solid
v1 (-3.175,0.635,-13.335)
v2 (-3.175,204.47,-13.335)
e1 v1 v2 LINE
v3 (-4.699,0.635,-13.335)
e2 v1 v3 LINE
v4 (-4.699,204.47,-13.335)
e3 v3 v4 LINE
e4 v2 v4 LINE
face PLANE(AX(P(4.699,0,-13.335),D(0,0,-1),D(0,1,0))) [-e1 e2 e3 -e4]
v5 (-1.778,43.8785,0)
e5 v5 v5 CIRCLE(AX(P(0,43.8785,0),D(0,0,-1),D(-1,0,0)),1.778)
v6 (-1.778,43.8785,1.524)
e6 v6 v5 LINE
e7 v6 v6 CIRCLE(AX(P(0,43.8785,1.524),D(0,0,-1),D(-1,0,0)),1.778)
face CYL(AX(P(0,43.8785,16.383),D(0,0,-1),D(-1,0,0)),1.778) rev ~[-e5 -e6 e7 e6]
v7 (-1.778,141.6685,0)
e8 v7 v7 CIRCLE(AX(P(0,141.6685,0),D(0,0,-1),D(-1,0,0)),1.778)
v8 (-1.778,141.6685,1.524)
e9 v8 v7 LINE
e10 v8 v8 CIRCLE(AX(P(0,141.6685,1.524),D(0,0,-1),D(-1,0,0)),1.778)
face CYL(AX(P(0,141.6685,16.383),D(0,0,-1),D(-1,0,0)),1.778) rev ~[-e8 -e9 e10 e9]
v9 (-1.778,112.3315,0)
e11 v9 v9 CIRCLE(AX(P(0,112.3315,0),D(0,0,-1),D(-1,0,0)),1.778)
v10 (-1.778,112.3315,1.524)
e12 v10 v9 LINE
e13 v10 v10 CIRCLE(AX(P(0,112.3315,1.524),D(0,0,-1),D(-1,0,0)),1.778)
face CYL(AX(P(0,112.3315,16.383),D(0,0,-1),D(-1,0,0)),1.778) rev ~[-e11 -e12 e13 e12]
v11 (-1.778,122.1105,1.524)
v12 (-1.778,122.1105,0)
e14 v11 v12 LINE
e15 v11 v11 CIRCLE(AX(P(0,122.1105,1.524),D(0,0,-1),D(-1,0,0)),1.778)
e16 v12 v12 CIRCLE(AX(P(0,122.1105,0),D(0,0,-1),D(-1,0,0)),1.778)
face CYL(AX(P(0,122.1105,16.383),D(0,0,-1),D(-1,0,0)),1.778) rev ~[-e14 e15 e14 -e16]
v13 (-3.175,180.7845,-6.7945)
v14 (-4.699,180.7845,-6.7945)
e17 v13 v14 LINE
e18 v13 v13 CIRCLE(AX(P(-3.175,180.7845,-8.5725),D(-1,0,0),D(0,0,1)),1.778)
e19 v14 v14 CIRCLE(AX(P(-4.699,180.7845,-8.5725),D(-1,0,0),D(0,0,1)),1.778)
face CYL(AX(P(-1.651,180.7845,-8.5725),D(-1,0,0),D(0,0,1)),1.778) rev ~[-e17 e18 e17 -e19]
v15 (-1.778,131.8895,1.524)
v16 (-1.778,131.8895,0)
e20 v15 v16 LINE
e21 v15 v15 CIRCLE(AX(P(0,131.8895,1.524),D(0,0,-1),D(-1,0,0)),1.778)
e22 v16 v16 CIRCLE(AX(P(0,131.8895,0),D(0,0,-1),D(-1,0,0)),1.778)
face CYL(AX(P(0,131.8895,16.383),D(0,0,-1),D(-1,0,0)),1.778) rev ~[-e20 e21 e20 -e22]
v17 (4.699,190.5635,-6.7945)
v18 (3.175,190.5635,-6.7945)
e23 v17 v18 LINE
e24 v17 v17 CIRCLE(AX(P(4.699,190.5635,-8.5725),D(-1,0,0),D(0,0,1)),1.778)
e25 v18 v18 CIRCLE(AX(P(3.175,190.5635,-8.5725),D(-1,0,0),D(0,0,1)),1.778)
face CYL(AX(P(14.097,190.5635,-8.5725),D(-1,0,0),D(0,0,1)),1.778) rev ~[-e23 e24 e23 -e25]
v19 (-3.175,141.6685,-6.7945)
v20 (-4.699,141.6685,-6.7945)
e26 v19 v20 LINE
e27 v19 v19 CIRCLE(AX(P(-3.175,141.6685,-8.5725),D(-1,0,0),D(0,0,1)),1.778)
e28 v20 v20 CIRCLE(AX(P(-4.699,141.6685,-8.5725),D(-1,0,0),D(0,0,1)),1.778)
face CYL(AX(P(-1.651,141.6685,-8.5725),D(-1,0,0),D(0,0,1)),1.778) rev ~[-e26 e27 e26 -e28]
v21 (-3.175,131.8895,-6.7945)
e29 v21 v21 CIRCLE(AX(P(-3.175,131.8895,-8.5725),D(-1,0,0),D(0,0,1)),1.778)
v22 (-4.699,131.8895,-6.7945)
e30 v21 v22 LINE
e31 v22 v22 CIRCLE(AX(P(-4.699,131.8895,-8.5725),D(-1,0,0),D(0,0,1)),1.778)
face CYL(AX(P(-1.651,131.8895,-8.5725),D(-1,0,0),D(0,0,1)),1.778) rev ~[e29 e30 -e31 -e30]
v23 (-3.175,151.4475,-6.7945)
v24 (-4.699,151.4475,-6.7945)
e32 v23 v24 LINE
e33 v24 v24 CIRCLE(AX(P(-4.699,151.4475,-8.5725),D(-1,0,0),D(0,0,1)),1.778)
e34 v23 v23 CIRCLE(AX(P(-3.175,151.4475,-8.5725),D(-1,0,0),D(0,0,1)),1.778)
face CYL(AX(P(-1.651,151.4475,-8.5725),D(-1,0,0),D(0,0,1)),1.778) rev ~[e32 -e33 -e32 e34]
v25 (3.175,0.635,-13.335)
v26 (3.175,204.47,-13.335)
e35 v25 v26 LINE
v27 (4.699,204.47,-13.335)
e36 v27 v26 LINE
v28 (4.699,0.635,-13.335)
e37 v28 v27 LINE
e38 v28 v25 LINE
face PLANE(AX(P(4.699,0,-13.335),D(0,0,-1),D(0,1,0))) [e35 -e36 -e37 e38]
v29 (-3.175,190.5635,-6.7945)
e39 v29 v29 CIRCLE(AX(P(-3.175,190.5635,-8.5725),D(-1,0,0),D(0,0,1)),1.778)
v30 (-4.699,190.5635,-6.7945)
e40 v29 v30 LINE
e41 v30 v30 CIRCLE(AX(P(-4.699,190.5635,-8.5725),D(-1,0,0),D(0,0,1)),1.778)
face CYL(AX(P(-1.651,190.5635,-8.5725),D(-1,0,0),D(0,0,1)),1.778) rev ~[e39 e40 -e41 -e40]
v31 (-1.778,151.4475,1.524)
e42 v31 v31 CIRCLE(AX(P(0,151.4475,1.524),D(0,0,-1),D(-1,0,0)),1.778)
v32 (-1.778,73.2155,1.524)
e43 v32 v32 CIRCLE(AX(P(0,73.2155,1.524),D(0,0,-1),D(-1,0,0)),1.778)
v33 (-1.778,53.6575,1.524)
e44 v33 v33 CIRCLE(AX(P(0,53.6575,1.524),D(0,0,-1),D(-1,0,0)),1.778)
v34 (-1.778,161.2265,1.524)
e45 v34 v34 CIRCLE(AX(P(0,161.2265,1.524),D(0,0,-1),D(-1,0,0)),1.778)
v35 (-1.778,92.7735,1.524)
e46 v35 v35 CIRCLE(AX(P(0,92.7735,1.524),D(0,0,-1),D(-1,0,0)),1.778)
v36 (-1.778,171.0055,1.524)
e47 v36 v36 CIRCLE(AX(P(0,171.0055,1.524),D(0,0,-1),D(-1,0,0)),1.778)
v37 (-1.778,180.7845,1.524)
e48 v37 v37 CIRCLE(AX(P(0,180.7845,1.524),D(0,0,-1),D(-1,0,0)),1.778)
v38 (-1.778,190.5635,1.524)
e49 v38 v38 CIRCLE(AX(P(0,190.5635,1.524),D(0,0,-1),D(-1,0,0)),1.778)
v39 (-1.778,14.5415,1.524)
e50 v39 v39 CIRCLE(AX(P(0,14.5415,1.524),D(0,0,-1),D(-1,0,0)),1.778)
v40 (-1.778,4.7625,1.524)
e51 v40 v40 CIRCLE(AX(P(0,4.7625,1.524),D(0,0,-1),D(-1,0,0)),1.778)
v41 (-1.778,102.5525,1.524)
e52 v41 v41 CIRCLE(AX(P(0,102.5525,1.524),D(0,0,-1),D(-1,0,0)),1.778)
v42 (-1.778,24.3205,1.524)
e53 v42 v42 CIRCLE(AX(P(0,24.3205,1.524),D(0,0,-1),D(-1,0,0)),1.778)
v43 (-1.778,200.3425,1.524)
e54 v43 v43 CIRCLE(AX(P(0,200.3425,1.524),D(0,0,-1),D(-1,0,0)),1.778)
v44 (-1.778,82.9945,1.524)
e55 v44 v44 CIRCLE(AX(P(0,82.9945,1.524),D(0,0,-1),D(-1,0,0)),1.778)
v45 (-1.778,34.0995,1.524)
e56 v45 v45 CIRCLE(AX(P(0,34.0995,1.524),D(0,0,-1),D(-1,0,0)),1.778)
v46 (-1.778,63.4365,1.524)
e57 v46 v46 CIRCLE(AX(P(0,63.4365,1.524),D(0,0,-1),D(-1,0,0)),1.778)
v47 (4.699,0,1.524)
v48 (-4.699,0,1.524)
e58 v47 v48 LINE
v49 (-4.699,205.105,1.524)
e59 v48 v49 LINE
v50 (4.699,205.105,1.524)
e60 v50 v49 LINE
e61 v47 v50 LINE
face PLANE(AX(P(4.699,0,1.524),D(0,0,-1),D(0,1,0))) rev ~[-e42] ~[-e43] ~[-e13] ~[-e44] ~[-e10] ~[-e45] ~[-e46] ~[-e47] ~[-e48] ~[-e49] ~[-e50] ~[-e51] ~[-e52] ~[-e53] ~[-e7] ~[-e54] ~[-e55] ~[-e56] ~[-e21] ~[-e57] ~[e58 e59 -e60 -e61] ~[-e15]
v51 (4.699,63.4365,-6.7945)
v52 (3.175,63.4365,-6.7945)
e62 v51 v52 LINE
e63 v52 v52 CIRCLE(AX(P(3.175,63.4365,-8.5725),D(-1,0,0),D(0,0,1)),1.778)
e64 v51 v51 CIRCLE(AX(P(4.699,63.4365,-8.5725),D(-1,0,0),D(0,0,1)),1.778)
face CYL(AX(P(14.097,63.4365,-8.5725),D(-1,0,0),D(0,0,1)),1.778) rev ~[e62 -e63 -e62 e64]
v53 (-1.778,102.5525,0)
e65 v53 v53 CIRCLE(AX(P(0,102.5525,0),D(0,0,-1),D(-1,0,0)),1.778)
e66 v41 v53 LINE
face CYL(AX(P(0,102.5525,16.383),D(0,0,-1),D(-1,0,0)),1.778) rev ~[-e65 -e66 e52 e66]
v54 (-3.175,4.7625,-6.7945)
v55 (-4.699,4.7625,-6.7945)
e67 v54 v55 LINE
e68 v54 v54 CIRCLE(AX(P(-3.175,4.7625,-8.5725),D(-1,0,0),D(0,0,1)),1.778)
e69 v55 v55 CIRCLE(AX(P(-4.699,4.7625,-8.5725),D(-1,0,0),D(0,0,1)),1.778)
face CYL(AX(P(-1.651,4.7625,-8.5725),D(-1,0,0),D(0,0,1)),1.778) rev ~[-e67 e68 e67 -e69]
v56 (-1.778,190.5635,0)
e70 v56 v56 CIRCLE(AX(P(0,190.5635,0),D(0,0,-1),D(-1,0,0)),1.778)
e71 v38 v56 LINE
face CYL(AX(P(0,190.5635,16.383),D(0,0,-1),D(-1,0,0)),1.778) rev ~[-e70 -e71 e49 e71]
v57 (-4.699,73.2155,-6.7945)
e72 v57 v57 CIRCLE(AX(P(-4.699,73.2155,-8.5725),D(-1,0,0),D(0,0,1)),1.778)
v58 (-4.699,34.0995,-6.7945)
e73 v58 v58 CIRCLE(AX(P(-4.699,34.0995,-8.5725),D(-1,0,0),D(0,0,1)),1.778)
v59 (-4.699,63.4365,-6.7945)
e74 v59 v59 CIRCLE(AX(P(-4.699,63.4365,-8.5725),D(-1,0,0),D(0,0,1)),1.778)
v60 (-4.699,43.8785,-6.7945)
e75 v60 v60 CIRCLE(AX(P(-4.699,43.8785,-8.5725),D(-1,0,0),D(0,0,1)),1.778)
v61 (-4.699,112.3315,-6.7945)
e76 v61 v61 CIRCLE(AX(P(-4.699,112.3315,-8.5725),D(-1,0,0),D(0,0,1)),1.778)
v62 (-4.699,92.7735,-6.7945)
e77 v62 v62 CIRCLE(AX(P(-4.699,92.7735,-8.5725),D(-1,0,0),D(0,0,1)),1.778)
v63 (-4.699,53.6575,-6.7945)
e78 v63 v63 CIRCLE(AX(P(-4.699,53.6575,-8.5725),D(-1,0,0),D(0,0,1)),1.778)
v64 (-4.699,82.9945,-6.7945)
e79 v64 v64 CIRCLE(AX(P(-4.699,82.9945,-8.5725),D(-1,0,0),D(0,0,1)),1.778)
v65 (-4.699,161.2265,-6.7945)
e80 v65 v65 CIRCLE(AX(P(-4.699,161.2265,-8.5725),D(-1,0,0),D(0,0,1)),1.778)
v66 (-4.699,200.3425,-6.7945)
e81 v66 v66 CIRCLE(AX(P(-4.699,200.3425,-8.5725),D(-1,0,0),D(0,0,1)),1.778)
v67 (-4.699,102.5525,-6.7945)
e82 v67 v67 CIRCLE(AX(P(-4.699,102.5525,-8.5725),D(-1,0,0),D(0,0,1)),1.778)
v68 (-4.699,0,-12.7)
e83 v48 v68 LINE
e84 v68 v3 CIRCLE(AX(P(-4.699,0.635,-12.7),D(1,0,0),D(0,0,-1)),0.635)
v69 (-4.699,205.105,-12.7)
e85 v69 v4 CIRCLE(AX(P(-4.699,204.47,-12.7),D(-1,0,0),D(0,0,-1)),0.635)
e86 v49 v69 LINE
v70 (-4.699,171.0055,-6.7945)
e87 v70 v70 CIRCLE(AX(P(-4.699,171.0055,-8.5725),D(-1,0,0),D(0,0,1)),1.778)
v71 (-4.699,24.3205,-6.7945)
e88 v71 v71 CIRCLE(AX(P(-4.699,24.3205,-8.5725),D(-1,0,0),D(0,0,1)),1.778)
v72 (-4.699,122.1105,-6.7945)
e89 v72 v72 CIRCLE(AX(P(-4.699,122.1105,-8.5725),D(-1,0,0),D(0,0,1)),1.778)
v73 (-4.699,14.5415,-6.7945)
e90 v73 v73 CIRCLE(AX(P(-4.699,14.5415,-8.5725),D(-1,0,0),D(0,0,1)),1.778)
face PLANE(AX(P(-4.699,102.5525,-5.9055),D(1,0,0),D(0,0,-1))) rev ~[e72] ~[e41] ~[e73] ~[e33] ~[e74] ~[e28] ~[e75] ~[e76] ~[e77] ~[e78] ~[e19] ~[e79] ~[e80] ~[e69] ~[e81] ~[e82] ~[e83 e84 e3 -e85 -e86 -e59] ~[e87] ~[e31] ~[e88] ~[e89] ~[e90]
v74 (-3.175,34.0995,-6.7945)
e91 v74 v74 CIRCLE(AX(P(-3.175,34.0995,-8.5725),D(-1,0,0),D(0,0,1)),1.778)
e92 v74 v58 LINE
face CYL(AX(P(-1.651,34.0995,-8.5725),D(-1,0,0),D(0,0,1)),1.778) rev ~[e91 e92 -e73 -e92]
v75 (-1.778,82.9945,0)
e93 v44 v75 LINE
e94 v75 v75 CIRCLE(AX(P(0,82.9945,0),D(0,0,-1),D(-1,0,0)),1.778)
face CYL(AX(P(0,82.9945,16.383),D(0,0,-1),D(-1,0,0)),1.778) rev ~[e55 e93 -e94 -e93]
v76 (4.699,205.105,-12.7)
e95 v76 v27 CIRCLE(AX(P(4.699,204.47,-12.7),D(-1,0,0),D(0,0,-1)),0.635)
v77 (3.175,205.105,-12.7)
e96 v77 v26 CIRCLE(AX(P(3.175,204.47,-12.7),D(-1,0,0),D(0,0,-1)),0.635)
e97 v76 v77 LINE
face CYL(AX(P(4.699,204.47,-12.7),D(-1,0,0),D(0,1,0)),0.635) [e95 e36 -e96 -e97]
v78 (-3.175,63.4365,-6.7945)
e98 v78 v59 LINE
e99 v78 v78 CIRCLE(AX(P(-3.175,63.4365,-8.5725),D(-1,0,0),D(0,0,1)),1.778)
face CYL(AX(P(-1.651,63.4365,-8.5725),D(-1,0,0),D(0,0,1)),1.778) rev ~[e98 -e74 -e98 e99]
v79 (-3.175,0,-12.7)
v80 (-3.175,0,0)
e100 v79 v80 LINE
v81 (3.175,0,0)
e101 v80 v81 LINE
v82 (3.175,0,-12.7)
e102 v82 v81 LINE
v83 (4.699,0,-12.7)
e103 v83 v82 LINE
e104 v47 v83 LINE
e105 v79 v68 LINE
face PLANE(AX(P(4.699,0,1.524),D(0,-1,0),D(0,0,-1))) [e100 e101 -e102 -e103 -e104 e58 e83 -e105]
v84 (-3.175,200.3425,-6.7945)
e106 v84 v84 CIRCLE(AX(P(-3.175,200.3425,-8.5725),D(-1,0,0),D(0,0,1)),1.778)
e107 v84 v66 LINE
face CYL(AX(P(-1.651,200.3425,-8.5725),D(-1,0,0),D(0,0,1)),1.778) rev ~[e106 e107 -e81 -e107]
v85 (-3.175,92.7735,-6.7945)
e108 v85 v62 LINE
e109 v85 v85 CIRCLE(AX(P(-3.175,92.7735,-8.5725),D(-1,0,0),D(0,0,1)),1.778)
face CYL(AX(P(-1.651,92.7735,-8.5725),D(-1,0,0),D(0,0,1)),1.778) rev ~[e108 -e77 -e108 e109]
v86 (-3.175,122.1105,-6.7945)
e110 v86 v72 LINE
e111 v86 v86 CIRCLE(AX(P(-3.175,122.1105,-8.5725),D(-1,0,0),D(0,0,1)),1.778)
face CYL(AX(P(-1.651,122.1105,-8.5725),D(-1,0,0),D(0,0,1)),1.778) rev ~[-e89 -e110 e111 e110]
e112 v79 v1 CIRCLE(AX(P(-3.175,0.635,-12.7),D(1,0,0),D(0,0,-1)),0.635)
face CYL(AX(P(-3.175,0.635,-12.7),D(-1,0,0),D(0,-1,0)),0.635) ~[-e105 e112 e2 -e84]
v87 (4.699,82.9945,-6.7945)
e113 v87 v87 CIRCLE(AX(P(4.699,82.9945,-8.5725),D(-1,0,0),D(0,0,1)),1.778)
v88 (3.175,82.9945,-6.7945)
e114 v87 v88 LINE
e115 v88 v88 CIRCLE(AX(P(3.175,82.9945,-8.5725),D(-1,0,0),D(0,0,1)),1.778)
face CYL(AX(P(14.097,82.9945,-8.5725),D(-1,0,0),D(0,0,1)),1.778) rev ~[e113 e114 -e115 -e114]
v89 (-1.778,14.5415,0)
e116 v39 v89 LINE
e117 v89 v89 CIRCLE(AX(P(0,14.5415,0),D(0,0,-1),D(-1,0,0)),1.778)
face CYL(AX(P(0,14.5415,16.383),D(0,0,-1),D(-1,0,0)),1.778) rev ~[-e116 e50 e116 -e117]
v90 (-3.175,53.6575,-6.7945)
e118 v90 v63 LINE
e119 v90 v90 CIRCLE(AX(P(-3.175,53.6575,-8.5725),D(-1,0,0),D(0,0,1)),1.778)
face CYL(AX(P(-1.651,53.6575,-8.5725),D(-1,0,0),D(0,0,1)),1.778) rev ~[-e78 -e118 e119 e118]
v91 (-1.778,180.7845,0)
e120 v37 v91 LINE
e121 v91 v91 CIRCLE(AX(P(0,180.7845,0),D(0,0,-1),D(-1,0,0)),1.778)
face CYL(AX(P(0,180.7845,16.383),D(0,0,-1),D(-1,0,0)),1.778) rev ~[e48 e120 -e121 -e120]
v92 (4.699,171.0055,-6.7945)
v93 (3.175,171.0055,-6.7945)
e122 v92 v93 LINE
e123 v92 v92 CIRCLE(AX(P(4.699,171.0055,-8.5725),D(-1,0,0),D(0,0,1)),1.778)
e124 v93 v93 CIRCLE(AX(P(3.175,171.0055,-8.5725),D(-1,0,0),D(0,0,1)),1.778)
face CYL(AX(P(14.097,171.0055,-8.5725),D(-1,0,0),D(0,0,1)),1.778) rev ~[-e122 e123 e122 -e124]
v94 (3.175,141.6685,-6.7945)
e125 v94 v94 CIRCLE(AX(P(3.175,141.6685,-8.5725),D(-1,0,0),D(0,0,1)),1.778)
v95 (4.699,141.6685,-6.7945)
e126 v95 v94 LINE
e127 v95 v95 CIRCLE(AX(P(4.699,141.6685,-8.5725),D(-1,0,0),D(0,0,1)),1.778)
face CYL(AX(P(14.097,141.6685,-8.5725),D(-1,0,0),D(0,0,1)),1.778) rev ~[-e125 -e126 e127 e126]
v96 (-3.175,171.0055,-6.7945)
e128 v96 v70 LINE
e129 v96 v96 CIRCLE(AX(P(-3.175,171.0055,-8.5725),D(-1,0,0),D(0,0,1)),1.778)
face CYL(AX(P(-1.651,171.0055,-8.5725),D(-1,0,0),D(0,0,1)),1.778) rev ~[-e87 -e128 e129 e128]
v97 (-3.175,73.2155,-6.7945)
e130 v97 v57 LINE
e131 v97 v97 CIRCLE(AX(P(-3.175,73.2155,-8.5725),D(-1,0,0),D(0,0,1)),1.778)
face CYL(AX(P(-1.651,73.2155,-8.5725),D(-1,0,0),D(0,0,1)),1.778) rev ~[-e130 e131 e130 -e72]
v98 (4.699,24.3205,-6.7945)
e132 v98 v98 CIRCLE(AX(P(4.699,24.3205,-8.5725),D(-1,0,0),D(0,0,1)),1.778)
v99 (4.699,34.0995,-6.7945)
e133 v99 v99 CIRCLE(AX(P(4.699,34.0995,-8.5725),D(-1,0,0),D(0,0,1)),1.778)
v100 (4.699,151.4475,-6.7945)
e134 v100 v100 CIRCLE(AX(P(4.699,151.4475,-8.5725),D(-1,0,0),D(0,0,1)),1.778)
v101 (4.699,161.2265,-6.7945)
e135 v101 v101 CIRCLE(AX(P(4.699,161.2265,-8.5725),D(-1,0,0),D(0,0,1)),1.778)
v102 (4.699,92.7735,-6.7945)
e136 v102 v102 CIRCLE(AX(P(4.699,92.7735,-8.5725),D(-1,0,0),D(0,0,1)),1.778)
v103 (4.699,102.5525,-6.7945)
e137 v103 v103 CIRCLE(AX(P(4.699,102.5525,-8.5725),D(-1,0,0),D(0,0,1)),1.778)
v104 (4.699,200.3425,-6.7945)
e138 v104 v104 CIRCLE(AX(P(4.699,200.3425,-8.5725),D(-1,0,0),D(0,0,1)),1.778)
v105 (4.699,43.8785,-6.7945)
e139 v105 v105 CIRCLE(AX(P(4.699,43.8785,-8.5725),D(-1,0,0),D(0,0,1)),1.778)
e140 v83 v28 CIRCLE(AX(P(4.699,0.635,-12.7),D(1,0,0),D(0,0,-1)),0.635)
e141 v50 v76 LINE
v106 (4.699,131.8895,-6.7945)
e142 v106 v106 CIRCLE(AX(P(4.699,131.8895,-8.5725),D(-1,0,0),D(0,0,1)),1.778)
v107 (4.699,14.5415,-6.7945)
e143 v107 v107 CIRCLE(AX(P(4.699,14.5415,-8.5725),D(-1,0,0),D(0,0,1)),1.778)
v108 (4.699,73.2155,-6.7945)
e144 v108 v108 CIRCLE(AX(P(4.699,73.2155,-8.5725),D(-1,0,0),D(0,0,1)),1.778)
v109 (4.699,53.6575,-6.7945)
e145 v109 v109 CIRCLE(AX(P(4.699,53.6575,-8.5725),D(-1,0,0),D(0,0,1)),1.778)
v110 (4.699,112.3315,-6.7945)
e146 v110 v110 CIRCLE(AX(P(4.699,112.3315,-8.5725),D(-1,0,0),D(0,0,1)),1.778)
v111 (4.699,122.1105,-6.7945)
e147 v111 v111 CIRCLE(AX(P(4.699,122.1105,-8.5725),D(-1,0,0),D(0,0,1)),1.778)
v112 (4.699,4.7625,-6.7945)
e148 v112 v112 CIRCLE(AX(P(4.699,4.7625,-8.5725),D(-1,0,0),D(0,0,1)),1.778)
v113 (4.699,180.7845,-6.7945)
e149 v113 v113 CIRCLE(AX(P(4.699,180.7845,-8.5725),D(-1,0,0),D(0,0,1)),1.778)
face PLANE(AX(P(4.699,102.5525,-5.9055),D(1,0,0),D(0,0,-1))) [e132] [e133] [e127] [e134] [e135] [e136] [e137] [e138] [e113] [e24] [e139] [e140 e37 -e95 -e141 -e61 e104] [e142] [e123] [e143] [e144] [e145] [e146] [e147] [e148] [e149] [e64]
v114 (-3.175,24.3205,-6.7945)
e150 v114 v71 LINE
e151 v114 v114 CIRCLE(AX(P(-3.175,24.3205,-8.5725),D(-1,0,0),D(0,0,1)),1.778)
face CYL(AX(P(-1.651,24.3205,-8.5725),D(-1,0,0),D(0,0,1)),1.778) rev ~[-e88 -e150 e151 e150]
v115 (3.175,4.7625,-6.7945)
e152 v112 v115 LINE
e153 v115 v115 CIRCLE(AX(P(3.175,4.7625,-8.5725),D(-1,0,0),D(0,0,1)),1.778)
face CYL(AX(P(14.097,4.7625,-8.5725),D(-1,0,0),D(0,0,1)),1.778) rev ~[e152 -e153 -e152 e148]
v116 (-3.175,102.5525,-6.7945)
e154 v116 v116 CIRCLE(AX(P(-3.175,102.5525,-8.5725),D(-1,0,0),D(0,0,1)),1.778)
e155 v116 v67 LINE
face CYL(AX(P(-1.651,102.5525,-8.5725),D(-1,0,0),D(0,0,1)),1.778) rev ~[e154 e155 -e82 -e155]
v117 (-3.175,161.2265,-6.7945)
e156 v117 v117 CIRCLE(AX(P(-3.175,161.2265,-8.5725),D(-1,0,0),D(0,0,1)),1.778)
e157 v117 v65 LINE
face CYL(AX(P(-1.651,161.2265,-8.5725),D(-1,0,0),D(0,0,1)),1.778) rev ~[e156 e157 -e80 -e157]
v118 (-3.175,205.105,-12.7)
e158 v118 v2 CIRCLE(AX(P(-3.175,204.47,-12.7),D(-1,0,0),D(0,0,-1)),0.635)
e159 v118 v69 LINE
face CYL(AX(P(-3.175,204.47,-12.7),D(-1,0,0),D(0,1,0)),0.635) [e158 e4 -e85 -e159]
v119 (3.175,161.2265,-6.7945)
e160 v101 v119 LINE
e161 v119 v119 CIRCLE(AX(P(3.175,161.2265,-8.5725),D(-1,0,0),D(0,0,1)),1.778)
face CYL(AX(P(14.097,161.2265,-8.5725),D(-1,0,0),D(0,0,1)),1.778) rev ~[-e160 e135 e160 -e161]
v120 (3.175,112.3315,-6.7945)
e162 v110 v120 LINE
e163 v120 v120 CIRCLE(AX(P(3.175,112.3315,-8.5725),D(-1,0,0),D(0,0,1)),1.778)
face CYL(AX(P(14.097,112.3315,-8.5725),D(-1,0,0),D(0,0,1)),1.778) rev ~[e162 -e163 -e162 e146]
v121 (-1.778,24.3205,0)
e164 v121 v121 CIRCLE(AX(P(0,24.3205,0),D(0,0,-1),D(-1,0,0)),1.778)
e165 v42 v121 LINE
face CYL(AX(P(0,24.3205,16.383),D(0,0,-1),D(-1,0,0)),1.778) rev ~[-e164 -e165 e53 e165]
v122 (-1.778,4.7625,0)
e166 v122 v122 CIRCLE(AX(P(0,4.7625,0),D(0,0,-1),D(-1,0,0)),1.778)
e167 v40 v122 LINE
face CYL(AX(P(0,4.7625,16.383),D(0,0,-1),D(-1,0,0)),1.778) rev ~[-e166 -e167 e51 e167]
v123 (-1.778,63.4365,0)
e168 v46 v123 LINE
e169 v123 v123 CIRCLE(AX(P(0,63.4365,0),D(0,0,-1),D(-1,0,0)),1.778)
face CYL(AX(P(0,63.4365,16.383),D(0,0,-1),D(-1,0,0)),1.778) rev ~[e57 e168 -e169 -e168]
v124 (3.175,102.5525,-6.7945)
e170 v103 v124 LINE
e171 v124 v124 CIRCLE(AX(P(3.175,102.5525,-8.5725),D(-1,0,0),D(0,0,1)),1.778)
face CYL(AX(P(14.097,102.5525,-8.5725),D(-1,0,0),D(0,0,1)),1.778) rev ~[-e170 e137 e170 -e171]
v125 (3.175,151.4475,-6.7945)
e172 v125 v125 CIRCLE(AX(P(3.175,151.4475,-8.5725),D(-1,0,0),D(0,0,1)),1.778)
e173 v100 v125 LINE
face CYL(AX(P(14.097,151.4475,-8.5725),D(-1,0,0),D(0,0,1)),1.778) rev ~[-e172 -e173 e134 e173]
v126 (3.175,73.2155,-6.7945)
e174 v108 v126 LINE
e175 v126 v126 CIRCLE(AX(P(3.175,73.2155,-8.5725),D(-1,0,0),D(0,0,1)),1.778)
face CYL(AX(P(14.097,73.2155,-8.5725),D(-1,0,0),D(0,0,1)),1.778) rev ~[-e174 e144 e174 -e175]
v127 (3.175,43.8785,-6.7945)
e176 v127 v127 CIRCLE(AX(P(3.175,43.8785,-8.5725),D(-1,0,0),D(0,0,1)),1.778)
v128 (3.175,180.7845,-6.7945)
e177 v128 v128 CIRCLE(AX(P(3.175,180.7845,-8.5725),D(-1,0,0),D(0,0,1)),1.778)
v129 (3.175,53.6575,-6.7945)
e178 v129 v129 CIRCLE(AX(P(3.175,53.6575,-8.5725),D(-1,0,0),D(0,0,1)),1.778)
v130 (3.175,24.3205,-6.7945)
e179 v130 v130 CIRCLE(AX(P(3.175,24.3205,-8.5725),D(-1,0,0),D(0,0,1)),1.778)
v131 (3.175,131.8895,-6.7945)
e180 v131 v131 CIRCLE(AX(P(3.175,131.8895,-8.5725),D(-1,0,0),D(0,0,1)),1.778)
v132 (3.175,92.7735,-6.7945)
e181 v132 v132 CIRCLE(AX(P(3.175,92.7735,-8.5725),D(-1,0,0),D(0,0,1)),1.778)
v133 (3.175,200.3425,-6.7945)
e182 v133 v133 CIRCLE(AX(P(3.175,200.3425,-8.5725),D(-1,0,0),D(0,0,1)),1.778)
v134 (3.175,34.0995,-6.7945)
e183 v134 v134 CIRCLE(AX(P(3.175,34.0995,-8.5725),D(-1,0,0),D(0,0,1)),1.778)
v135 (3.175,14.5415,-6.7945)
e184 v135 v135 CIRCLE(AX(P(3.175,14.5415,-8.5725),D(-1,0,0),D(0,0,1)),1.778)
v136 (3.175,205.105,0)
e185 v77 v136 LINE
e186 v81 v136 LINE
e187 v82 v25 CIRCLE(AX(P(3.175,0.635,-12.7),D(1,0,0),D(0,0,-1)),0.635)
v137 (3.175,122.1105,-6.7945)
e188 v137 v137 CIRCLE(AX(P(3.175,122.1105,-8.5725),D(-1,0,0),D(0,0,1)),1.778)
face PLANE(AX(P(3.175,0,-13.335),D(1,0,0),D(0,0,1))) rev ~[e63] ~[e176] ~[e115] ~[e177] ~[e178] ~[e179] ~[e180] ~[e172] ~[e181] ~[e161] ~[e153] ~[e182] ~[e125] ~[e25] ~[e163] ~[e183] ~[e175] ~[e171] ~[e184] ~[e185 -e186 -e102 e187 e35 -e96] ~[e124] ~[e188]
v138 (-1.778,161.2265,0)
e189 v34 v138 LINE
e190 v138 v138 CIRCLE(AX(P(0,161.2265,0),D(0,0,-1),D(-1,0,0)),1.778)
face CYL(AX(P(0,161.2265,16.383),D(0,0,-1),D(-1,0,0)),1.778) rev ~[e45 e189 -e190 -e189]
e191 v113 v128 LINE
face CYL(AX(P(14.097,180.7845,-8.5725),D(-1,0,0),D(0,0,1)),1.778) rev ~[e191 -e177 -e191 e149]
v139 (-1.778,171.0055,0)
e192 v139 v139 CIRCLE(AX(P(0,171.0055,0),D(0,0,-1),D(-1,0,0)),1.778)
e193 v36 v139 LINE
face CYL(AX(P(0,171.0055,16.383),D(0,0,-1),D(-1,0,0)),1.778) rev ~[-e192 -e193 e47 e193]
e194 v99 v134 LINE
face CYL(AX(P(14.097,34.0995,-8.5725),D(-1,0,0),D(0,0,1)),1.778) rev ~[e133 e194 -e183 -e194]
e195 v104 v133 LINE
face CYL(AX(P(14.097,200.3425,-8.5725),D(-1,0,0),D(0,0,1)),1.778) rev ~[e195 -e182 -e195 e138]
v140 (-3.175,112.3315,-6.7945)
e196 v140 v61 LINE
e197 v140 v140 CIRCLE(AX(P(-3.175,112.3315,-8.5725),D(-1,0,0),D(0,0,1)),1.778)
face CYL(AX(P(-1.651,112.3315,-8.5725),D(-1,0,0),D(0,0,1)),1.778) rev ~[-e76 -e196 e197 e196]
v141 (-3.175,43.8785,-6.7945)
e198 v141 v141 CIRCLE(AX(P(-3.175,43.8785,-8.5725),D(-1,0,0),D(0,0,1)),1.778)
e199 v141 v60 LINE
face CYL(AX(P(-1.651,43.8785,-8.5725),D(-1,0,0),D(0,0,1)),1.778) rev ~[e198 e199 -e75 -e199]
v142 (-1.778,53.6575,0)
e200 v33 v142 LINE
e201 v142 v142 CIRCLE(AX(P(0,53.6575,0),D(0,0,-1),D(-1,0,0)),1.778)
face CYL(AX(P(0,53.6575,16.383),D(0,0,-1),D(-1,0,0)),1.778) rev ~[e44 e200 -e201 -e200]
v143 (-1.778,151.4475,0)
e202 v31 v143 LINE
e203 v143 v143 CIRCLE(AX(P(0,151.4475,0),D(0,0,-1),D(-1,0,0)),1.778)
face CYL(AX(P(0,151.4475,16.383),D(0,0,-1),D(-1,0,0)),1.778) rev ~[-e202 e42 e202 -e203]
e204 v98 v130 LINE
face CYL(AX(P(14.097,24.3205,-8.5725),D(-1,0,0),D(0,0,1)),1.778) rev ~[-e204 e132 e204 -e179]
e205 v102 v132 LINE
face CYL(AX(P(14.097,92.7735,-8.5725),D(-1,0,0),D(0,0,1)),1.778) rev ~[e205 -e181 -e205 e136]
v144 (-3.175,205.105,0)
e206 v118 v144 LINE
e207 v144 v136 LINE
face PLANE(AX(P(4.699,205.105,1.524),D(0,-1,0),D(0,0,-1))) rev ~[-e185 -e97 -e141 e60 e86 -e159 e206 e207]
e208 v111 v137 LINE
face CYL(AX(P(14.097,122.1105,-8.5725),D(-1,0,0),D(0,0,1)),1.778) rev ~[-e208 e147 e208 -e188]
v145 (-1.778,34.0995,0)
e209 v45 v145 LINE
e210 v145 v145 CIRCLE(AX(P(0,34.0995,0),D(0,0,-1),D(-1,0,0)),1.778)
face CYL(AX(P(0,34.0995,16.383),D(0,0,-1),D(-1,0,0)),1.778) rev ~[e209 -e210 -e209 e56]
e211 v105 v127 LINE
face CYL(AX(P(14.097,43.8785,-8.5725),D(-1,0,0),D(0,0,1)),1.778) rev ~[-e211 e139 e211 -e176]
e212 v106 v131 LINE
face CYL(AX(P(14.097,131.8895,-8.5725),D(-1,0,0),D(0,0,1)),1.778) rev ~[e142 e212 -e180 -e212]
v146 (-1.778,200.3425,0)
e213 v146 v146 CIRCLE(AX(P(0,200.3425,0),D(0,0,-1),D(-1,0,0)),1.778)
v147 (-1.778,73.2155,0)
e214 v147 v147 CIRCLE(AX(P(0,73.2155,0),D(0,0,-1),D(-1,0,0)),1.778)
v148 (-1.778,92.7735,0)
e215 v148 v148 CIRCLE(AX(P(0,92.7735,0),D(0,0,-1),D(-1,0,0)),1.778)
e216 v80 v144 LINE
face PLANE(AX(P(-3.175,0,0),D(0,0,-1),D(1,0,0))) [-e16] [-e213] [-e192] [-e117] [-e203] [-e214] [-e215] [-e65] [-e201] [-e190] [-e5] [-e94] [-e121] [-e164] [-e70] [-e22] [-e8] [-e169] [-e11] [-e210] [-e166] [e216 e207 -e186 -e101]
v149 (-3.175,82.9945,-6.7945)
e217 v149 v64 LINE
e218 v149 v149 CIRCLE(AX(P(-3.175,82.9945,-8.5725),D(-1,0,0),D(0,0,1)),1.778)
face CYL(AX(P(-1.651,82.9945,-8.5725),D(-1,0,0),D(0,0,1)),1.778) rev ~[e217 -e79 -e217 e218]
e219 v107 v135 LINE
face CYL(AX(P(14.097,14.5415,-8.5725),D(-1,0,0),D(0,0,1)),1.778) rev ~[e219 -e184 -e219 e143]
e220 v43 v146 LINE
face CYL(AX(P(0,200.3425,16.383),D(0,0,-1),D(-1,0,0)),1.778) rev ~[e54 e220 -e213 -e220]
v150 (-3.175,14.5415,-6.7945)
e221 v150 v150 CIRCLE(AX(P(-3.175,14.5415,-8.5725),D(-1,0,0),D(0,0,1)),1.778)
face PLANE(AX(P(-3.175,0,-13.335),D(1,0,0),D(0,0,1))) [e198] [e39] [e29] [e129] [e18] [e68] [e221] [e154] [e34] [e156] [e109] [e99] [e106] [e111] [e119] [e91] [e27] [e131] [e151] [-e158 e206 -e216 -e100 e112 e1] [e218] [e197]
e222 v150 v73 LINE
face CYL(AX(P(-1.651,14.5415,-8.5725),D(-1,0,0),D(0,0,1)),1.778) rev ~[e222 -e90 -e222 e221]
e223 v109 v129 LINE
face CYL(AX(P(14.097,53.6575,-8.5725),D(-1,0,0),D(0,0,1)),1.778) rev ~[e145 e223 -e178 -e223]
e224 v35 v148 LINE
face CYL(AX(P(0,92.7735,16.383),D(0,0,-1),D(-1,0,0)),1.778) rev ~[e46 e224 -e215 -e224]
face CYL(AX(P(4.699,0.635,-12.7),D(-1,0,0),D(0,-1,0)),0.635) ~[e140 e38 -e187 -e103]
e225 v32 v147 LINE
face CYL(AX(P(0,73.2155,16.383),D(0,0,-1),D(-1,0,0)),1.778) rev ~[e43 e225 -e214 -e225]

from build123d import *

# Parameters (mm, degrees)
SKETCH1_W                 = 14.859
SKETCH1_H                 = 205.105
BOSS_EXTRUDE1_DEPTH       = 9.398
SKETCH2_W                 = 6.35
SKETCH2_H                 = 13.335
CUT_EXTRUDE1_DEPTH        = 206.591740717
F_5_CLEARANCE_HOLE1_D     = 3.556
F_5_CLEARANCE_HOLE1_DEPTH = 1.524
F_5_CLEARANCE_HOLE2_D     = 3.556
F_5_CLEARANCE_HOLE2_DEPTH = 14.859
F_5_CLEARANCE_HOLE3_D     = 3.556
F_5_CLEARANCE_HOLE3_DEPTH = 9.398
FILLET1_R                 = 0.635


with BuildPart() as part:
    # Sketch1 → Boss-Extrude1 (new body)
    with BuildSketch(Plane(origin=(4.699, 0, 0), x_dir=(0, 0, -1), z_dir=(1, 0, 0))):
        with Locations((5.9055, 102.5525)):
            Rectangle(SKETCH1_W, SKETCH1_H)
    extrude(amount=-BOSS_EXTRUDE1_DEPTH)

    # Sketch2 → Cut-Extrude1 (cut, through all)
    with BuildSketch(Plane.XZ):
        with Locations((0, -6.6675)):
            Rectangle(SKETCH2_W, SKETCH2_H)
    extrude(amount=-CUT_EXTRUDE1_DEPTH, mode=Mode.SUBTRACT)

    # #5 Clearance Hole1
    with Locations(Plane(origin=(-3.175, 0, 0), x_dir=(0, 0, -1), z_dir=(1, 0, 0))):
        with Locations((8.5725, 190.5635), (8.5725, 200.3425), (8.5725, 180.7845), (8.5725, 171.0055), (8.5725, 161.2265), (8.5725, 151.4475), (8.5725, 141.6685), (8.5725, 131.8895), (8.5725, 122.1105), (8.5725, 112.3315), (8.5725, 102.5525), (8.5725, 92.7735), (8.5725, 82.9945), (8.5725, 73.2155), (8.5725, 63.4365), (8.5725, 53.6575), (8.5725, 43.8785), (8.5725, 34.0995), (8.5725, 24.3205), (8.5725, 14.5415), (8.5725, 4.7625)):
            Hole(F_5_CLEARANCE_HOLE1_D / 2, depth=F_5_CLEARANCE_HOLE1_DEPTH)

    # #5 Clearance Hole2
    with Locations(Plane.XY.offset(1.524)):
        with Locations((0, 190.5635), (0, 200.3425), (0, 180.7845), (0, 171.0055), (0, 161.2265), (0, 151.4475), (0, 141.6685), (0, 131.8895), (0, 122.1105), (0, 112.3315), (0, 102.5525), (0, 92.7735), (0, 82.9945), (0, 73.2155), (0, 63.4365), (0, 53.6575), (0, 43.8785), (0, 34.0995), (0, 24.3205), (0, 14.5415), (0, 4.7625)):
            Hole(F_5_CLEARANCE_HOLE2_D / 2, depth=F_5_CLEARANCE_HOLE2_DEPTH)

    # #5 Clearance Hole3
    with Locations(Plane(origin=(4.699, 0, 0), x_dir=(0, 0, -1), z_dir=(1, 0, 0))):
        with Locations((8.5725, 190.5635), (8.5725, 200.3425), (8.5725, 180.7845), (8.5725, 171.0055), (8.5725, 161.2265), (8.5725, 151.4475), (8.5725, 141.6685), (8.5725, 131.8895), (8.5725, 122.1105), (8.5725, 112.3315), (8.5725, 102.5525), (8.5725, 92.7735), (8.5725, 82.9945), (8.5725, 73.2155), (8.5725, 63.4365), (8.5725, 53.6575), (8.5725, 43.8785), (8.5725, 34.0995), (8.5725, 24.3205), (8.5725, 14.5415), (8.5725, 4.7625)):
            Hole(F_5_CLEARANCE_HOLE3_D / 2, depth=F_5_CLEARANCE_HOLE3_DEPTH)

    # Fillet1
    fillet1_edges = [part.edges().sort_by_distance(p)[0] for p in [
        (3.937, 0, -13.335),
        (3.937, 205.105, -13.335),
        (-3.937, 205.105, -13.335),
        (-3.937, 0, -13.335),
    ]]
    fillet(fillet1_edges, radius=FILLET1_R)


solid = part.part
